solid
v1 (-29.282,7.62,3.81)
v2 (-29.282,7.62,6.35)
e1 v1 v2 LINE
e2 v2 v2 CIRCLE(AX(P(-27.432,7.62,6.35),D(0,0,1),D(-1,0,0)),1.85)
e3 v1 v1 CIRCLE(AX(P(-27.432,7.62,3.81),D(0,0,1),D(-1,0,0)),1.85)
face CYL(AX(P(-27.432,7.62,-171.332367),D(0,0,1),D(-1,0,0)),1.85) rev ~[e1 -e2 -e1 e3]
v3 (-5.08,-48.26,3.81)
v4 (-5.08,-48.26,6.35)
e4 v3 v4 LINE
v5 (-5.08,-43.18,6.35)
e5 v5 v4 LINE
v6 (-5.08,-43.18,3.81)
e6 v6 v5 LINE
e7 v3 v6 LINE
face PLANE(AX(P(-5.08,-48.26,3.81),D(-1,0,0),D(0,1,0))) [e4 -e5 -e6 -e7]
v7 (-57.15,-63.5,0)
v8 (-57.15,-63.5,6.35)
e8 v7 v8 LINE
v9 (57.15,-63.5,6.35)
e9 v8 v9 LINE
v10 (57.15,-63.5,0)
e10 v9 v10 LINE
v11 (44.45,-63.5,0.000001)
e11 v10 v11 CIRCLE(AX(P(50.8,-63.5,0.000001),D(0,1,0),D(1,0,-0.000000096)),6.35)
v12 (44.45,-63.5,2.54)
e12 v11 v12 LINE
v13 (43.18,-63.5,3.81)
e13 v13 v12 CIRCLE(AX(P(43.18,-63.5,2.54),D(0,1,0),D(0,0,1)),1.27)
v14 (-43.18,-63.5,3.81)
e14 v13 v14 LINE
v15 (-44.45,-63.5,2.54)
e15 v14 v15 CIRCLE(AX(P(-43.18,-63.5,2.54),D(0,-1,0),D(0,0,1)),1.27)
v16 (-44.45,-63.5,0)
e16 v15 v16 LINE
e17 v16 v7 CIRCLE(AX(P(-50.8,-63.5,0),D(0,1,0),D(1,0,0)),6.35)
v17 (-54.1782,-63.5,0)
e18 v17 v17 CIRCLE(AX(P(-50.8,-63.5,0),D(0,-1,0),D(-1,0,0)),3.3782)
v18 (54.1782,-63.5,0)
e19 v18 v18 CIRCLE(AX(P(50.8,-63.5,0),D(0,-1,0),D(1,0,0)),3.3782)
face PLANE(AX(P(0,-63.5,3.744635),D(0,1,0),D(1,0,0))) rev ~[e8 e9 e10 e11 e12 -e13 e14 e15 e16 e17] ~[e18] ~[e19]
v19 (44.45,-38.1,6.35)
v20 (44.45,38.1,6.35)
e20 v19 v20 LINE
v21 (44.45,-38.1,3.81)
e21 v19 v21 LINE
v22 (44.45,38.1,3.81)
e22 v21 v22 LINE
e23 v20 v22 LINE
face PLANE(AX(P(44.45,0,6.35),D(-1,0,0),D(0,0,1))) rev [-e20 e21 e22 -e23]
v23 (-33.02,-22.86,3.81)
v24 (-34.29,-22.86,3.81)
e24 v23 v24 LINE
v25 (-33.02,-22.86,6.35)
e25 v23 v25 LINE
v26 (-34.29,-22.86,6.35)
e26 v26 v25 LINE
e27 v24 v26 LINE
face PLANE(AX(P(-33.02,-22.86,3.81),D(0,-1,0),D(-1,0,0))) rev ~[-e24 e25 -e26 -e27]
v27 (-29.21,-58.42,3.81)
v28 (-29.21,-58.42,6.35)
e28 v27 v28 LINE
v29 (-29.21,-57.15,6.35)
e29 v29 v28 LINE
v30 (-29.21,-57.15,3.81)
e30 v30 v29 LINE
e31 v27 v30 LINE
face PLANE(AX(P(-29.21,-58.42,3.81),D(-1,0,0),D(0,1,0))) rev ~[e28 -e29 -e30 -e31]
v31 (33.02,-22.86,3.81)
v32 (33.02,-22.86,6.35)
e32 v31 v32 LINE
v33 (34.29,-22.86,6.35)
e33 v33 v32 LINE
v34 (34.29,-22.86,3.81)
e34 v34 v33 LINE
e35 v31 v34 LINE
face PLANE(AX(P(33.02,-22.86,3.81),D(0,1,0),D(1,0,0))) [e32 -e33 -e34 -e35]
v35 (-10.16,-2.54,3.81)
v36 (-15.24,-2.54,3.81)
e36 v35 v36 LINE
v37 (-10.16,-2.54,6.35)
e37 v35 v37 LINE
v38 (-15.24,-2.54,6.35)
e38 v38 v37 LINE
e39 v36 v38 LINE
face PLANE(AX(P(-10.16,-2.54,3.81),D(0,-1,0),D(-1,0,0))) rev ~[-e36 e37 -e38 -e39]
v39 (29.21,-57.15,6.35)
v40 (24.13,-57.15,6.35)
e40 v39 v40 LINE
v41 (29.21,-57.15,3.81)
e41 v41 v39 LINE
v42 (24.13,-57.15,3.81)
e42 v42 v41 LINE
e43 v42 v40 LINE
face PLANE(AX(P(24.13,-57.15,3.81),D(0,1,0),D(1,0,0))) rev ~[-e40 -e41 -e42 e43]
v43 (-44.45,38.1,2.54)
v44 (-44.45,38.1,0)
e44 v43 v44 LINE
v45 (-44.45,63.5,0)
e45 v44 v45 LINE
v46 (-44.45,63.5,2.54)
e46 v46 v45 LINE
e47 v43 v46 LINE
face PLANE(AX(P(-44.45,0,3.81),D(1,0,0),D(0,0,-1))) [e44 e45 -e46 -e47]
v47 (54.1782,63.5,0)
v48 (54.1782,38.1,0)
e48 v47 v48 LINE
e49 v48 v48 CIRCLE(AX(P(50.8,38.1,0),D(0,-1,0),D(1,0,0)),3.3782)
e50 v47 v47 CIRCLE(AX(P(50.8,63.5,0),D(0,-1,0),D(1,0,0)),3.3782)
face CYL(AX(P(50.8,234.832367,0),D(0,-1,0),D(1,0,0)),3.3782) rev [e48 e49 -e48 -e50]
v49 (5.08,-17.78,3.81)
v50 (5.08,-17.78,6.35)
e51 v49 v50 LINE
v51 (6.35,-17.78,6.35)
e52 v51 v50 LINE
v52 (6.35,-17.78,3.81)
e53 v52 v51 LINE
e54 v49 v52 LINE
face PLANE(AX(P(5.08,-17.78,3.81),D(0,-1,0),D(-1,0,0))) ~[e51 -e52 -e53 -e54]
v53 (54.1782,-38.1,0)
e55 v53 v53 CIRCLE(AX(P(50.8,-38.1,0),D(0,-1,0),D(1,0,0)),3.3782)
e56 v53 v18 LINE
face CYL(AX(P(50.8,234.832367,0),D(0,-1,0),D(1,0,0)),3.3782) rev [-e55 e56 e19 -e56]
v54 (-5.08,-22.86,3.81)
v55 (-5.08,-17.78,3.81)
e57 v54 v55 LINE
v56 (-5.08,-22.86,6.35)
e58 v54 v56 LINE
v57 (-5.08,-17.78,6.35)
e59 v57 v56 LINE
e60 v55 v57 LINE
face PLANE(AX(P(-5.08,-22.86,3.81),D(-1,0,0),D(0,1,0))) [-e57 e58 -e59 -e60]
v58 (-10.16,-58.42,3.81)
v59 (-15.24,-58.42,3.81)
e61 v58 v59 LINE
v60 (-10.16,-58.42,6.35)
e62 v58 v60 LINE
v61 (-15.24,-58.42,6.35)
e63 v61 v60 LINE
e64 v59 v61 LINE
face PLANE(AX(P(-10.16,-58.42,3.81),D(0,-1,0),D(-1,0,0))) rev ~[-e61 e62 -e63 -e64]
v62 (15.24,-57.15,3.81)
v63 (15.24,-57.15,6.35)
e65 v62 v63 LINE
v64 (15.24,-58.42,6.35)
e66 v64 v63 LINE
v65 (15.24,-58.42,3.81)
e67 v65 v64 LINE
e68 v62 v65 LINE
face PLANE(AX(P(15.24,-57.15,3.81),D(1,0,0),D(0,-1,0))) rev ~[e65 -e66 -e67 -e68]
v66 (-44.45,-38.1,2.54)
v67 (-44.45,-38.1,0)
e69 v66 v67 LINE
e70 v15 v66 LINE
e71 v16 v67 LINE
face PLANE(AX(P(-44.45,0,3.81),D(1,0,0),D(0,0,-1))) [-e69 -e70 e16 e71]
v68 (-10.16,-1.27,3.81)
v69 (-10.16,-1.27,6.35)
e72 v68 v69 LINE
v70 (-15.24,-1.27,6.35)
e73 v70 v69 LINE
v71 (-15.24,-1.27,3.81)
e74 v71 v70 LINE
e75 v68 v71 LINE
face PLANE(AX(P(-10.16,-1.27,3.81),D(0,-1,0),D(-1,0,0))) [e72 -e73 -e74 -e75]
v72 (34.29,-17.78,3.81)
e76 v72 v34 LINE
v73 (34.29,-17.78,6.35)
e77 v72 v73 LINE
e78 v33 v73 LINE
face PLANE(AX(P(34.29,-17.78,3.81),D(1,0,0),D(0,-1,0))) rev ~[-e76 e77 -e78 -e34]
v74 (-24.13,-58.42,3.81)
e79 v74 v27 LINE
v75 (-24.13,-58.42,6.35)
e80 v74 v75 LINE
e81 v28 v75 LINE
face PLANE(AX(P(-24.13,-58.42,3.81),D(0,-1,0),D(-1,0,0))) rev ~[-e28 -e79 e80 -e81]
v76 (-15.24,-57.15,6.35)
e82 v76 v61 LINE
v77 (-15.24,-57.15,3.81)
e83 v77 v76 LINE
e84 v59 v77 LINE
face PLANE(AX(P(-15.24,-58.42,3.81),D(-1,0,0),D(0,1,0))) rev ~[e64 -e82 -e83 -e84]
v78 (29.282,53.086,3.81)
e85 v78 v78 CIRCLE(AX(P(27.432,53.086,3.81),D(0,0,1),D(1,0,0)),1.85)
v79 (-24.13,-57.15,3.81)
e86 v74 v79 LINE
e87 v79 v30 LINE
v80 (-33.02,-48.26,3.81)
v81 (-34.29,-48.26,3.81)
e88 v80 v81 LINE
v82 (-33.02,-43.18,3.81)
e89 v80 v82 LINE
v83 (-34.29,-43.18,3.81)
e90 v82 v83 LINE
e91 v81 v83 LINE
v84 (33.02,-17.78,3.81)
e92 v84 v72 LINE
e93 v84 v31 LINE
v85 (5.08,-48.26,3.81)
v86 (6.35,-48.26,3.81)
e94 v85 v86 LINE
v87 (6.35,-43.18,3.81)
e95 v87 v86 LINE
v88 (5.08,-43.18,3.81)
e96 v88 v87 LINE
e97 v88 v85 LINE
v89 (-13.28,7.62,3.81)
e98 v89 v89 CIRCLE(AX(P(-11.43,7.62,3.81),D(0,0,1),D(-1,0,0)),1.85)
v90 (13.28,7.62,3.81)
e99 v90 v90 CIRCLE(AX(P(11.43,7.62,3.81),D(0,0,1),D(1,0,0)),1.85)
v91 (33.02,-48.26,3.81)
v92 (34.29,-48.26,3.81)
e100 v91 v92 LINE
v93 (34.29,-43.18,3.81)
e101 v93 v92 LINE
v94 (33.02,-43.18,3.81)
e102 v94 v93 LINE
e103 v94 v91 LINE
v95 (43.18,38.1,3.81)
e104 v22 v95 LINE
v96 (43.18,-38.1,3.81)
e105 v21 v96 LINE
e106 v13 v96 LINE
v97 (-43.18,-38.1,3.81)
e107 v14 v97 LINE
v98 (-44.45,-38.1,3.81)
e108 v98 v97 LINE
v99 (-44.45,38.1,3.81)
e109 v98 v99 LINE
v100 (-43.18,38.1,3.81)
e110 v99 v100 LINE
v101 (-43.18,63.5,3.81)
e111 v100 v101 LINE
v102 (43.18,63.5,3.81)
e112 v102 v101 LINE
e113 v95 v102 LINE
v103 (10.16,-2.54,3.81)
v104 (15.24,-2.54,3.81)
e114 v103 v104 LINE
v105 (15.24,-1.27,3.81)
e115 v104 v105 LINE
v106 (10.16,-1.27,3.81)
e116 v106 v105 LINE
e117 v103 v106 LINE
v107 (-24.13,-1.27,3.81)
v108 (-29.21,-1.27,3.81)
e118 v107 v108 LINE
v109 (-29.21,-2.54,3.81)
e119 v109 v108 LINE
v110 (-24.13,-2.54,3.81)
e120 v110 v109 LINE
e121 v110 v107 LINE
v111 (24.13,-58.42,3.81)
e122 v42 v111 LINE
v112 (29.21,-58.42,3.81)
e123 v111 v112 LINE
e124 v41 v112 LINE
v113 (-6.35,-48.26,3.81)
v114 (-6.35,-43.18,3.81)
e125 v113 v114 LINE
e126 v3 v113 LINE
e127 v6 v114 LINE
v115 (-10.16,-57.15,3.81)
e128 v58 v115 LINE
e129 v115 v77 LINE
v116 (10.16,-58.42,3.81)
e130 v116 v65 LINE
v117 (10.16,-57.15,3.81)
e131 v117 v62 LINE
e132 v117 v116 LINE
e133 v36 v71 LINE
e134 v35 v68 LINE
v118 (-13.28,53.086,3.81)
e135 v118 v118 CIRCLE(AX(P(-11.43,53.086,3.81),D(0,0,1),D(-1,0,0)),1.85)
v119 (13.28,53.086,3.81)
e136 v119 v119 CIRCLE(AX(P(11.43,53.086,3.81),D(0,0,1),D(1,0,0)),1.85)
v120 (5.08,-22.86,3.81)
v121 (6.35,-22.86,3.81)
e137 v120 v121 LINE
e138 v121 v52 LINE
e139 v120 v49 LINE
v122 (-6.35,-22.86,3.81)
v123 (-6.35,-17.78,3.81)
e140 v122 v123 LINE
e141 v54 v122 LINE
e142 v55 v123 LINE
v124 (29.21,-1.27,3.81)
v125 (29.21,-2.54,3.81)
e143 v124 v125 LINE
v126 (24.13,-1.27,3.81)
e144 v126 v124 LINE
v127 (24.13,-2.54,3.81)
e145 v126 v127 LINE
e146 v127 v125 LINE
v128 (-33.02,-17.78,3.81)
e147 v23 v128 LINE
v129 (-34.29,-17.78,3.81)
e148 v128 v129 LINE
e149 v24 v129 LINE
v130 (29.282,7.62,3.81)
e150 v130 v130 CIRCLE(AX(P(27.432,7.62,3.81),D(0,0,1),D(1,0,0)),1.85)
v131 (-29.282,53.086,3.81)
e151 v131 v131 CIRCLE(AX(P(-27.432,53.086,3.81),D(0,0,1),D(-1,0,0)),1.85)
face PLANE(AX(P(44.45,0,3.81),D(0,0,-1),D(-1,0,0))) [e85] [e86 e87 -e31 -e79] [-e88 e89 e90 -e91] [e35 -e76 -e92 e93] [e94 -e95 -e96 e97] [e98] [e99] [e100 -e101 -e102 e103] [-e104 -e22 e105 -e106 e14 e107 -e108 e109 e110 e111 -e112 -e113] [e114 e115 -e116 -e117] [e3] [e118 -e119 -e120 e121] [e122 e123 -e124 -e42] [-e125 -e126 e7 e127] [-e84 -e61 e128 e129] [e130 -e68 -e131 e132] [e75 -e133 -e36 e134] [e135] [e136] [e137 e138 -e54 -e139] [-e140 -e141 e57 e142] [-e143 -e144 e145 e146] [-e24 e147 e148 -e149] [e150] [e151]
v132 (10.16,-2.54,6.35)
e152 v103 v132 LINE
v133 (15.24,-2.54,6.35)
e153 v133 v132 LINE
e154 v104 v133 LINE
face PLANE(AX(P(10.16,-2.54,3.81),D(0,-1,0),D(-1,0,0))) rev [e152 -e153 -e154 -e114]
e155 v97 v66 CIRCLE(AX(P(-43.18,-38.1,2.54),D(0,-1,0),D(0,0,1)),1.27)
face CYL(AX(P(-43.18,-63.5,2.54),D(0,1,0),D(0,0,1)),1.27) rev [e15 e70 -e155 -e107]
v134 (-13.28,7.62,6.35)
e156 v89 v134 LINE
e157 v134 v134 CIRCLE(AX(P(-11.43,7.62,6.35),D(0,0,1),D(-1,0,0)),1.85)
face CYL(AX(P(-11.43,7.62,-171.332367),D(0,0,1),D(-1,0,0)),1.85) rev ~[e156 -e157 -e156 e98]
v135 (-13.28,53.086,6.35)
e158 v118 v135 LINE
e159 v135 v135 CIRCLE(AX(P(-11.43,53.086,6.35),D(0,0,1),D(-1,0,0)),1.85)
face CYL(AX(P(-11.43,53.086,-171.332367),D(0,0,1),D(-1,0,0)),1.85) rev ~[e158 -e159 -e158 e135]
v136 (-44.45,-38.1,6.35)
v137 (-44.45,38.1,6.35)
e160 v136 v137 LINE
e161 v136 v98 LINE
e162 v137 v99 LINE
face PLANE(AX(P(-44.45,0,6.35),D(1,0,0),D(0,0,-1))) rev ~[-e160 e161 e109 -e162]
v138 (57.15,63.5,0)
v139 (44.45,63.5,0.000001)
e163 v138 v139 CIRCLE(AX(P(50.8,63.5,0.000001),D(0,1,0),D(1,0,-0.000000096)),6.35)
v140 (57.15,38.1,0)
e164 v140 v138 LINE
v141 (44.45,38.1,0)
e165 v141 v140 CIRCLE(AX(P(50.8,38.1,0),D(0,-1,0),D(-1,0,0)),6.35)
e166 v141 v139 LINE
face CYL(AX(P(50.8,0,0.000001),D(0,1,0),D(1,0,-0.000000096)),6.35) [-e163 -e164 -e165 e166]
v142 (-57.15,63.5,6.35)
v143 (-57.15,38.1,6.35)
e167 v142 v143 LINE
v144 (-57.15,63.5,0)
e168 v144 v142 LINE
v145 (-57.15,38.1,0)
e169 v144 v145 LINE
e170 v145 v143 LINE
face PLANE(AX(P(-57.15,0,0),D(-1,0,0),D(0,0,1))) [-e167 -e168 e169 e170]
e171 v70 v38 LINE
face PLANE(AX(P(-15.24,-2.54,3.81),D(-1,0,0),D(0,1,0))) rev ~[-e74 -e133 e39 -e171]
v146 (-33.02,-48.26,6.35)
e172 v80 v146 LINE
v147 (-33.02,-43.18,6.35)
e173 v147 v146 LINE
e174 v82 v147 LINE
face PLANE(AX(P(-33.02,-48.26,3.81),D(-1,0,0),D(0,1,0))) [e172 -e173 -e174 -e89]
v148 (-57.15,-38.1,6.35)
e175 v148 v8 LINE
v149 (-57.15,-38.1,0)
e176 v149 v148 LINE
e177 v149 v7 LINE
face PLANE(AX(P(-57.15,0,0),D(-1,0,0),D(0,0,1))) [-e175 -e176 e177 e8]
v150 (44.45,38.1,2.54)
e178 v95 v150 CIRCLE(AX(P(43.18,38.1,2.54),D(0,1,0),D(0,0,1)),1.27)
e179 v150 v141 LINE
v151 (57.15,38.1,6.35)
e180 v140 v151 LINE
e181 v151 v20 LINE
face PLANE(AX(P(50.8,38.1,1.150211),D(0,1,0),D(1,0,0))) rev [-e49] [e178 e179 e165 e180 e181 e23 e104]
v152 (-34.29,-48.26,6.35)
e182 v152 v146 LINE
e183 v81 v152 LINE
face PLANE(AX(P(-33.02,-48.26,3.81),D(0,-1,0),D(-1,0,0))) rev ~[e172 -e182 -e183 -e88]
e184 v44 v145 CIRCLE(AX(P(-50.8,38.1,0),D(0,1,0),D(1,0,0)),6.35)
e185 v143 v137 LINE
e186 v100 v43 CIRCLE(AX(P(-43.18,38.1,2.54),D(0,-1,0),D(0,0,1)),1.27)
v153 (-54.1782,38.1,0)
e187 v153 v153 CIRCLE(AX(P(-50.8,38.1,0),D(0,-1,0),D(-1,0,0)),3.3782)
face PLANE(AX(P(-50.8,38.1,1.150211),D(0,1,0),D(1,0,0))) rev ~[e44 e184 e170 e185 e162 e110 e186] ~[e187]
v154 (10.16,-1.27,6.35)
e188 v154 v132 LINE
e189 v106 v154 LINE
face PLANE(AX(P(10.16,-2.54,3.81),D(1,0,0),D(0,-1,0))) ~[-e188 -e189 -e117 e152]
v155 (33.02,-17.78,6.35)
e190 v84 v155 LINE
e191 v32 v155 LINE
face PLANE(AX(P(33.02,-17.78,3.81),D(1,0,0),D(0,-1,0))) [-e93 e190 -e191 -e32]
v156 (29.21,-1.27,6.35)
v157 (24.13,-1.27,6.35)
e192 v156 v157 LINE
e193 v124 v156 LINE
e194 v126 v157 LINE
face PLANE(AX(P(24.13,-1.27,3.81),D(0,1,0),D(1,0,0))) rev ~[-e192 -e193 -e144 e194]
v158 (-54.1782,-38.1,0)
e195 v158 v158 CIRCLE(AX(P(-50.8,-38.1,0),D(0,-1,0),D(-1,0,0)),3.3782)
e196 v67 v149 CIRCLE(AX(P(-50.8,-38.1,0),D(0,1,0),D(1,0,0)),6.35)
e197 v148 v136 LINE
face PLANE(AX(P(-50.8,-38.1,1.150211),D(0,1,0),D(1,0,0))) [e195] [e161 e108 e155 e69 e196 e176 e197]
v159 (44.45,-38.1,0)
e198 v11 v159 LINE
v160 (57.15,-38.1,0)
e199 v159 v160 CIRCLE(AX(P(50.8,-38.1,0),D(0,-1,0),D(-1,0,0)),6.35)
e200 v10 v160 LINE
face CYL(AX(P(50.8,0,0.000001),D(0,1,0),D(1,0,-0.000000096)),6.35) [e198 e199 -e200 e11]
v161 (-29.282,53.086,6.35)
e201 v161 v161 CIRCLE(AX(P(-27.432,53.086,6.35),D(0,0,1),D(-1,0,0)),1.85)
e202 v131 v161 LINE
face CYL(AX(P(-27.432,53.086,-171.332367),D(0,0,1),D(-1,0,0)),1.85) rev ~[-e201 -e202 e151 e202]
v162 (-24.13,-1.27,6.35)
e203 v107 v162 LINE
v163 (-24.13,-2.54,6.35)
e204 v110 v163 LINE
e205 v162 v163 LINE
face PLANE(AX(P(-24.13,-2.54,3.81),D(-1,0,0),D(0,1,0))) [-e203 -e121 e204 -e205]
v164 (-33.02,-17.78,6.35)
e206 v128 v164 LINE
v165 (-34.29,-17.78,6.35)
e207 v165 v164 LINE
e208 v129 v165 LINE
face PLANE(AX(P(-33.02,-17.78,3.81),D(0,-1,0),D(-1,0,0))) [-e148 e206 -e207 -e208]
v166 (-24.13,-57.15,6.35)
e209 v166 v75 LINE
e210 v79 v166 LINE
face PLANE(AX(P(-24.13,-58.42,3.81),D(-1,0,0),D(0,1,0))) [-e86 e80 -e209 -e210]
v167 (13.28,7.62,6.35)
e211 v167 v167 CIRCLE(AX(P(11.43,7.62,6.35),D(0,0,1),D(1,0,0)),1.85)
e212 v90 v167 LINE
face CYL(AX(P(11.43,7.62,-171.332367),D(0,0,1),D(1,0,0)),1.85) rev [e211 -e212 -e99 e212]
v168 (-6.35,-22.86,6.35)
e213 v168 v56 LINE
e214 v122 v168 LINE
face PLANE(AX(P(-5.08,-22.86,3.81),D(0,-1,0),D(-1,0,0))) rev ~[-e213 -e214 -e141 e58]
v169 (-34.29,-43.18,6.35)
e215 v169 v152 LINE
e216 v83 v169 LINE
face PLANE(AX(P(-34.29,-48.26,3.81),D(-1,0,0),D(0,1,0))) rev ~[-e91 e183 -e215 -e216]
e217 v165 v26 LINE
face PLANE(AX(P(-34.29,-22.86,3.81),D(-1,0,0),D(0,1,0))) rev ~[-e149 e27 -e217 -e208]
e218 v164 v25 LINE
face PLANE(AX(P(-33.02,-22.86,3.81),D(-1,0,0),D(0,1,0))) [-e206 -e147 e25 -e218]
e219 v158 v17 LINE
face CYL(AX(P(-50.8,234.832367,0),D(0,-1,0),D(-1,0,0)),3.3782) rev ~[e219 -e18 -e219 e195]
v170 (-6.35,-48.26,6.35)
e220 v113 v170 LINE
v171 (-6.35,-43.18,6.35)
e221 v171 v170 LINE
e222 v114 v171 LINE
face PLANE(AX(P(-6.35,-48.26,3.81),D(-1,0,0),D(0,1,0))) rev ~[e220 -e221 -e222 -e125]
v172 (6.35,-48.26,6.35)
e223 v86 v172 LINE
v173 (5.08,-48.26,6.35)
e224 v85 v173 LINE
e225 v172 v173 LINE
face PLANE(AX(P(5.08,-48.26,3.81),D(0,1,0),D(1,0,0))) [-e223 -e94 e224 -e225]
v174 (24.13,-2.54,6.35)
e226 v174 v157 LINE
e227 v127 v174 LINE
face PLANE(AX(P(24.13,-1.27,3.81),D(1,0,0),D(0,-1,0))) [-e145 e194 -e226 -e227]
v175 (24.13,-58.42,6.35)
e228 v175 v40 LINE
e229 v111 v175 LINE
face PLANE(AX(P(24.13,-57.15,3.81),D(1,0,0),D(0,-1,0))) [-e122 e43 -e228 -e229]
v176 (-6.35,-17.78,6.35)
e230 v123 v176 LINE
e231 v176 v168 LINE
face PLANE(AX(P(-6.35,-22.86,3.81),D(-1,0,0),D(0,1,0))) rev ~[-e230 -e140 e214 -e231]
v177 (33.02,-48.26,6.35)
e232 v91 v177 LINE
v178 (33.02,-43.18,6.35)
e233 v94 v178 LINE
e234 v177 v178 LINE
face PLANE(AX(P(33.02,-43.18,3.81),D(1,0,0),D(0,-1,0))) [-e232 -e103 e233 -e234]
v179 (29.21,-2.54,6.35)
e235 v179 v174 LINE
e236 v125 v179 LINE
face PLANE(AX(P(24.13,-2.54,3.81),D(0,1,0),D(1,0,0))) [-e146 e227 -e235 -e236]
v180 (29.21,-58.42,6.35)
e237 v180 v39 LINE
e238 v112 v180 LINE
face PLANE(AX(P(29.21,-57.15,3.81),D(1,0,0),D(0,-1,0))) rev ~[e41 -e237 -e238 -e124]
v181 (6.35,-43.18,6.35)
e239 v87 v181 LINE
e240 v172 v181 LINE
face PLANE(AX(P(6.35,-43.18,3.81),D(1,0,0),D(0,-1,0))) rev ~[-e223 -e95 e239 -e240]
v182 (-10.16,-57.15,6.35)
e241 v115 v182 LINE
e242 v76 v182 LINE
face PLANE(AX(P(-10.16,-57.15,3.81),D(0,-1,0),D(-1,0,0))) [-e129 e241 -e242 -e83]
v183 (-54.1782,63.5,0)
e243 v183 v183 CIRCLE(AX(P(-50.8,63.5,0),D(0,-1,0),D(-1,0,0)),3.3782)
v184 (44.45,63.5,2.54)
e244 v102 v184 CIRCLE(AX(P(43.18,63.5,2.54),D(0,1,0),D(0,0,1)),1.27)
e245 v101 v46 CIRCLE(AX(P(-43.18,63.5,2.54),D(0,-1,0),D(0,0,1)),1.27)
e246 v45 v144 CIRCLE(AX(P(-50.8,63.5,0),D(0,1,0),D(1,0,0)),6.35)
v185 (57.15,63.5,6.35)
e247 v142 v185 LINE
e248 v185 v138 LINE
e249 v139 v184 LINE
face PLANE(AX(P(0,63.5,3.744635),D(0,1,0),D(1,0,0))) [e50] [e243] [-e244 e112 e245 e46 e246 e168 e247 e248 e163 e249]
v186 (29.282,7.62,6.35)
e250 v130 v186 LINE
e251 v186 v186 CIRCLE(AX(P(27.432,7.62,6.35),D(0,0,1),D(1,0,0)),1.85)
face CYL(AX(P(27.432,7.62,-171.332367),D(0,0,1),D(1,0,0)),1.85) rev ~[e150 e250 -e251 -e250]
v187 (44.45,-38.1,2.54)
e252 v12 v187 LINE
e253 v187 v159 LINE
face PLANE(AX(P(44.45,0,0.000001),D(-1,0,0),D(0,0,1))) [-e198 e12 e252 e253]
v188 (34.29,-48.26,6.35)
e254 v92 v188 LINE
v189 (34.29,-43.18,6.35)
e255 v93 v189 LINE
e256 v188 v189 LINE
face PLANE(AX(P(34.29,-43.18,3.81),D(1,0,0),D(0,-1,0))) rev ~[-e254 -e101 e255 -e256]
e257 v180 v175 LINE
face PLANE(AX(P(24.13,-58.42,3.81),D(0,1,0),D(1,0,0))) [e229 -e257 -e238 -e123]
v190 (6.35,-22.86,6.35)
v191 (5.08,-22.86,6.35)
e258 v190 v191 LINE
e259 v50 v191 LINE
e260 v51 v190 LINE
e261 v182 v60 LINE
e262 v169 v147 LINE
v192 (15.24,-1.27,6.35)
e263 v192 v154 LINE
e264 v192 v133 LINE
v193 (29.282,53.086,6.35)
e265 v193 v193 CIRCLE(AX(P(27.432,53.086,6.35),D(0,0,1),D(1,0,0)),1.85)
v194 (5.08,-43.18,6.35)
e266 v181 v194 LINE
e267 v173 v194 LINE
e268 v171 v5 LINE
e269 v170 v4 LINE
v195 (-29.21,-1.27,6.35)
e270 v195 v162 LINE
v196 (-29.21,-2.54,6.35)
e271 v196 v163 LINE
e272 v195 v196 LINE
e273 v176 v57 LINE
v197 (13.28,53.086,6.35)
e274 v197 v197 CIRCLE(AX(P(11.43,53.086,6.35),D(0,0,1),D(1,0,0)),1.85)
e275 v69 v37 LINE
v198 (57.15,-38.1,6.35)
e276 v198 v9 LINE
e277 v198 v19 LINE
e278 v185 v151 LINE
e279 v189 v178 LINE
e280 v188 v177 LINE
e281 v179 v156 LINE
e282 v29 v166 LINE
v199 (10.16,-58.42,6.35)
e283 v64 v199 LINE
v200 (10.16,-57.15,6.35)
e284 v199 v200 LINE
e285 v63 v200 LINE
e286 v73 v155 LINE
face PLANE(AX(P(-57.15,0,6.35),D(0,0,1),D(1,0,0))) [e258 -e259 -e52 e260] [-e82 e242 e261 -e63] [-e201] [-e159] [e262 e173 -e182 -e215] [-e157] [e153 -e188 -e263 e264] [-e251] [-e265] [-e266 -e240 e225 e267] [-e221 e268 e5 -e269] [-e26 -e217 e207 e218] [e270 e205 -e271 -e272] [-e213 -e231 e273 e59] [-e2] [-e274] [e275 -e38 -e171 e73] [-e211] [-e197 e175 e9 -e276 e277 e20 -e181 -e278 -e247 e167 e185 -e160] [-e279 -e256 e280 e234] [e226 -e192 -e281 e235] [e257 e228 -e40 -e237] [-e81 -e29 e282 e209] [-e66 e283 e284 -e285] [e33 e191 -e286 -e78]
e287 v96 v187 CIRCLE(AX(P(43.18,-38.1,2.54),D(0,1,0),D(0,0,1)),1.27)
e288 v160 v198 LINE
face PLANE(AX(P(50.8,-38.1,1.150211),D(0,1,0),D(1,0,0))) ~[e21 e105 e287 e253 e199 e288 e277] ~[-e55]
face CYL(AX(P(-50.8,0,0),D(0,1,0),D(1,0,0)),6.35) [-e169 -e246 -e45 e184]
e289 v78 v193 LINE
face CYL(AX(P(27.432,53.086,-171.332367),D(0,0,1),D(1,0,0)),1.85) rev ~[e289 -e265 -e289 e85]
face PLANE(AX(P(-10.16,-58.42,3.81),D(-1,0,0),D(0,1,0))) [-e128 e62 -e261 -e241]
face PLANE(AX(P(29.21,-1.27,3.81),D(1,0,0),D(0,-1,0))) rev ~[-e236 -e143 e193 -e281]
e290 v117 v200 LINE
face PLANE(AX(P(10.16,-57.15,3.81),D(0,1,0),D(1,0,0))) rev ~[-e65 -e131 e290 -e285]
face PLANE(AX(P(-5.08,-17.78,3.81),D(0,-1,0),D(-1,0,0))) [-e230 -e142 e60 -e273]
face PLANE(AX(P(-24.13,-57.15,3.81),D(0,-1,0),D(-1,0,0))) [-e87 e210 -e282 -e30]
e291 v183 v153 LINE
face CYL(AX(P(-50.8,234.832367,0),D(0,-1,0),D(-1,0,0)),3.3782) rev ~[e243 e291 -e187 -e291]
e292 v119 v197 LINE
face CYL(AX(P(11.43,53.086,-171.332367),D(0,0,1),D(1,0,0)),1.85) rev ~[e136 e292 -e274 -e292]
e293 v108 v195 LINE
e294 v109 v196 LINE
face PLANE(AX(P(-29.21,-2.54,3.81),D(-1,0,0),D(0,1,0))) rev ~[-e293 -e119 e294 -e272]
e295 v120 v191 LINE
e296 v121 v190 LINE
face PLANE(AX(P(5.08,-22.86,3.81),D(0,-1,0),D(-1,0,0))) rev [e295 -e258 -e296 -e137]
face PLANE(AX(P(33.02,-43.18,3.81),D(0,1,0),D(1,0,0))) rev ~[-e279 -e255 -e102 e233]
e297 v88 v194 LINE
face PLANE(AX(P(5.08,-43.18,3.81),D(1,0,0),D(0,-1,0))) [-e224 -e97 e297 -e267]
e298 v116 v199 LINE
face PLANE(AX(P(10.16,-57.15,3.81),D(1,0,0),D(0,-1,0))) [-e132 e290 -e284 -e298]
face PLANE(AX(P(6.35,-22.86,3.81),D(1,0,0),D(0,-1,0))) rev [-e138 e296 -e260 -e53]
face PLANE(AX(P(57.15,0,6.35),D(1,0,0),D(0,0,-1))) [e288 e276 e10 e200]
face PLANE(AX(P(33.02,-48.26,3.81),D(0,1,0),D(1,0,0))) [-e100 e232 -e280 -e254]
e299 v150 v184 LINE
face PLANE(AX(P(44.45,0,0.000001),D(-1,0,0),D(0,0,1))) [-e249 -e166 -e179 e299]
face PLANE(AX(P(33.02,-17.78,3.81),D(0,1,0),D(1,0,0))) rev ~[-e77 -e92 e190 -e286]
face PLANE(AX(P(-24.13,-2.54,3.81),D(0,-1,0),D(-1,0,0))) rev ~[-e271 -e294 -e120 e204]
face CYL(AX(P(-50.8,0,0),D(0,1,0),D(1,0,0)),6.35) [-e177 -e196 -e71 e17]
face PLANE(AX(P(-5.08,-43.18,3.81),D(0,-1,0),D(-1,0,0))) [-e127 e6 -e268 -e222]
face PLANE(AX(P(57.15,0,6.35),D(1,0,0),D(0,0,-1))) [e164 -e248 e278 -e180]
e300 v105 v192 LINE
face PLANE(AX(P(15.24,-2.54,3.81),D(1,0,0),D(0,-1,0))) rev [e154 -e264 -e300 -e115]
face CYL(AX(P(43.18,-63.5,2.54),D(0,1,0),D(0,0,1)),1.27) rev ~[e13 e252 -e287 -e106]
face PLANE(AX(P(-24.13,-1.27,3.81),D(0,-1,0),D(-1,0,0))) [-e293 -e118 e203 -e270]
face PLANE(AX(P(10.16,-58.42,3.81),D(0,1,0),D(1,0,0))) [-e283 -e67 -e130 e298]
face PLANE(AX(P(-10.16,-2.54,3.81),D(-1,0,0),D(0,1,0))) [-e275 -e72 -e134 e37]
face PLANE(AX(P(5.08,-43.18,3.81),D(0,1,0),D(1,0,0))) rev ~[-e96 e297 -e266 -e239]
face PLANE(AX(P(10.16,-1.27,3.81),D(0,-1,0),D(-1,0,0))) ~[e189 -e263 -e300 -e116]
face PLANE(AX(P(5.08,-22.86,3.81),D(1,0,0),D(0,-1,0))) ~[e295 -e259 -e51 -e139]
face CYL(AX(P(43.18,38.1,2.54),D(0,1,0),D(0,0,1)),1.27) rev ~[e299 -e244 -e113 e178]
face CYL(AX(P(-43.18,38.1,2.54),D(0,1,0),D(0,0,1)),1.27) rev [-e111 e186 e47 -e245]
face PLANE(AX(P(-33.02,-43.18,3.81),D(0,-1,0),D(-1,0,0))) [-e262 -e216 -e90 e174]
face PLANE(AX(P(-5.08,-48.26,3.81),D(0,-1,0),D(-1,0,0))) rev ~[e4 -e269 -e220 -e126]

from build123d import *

# Parameters (mm, degrees)
BOSS_EXTRUDE1_DEPTH     = 63.5
SKETCH3_W               = 1.27
SKETCH3_H               = 5.08
CUT_EXTRUDE2_DEPTH      = 87.032540937
LPATTERN1_COUNT         = 2
LPATTERN1_PITCH         = 25.4
LPATTERN1_COUNT_DIR2    = 2
LPATTERN1_PITCH_DIR2    = 27.94
MIRROR1_COPY_1_SKETCH_W = 1.27
MIRROR1_COPY_1_SKETCH_H = 5.08
MIRROR1_COPY_1_DEPTH    = 87.032540937
MIRROR1_COPY_2_SKETCH_W = 1.27
MIRROR1_COPY_2_SKETCH_H = 5.08
MIRROR1_COPY_2_DEPTH    = 87.032540937
MIRROR1_COPY_3_SKETCH_W = 1.27
MIRROR1_COPY_3_SKETCH_H = 5.08
MIRROR1_COPY_3_DEPTH    = 87.032540937
SKETCH5_W               = 5.08
SKETCH5_H               = 1.27
CUT_EXTRUDE3_DEPTH      = 87.032540937
LPATTERN2_COUNT         = 2
LPATTERN2_PITCH         = 13.97
LPATTERN2_COUNT_DIR2    = 2
LPATTERN2_PITCH_DIR2    = 55.88
MIRROR2_COPY_1_SKETCH_W = 5.08
MIRROR2_COPY_1_SKETCH_H = 1.27
MIRROR2_COPY_1_DEPTH    = 87.032540937
MIRROR2_COPY_2_SKETCH_W = 5.08
MIRROR2_COPY_2_SKETCH_H = 1.27
MIRROR2_COPY_2_DEPTH    = 87.032540937
MIRROR2_COPY_3_SKETCH_W = 5.08
MIRROR2_COPY_3_SKETCH_H = 1.27
MIRROR2_COPY_3_DEPTH    = 87.032540937
F_1_0MM_DOWEL_HOLE1_D   = 3.7
LPATTERN3_COUNT         = 2
LPATTERN3_PITCH         = 16.002
LPATTERN3_COUNT_DIR2    = 2
LPATTERN3_PITCH_DIR2    = 45.466
MIRROR3_COPY_1_D        = 3.7
MIRROR3_COPY_2_D        = 3.7
MIRROR3_COPY_3_D        = 3.7
F_1_4_CLEARANCE_HOLE1_D = 6.7564
CUT_EXTRUDE4_DEPTH      = 38.1
FILLET1_R               = 1.27
FILLET2_R               = 1.27


with BuildPart() as part:
    # Sketch1 → Boss-Extrude1 (new, symmetric)
    with BuildSketch(Plane(origin=(0, 0, 0), x_dir=(1, 0, 0), z_dir=(0, 1, 0))):
        with BuildLine():
            Line((0, -6.35), (57.15, -6.35))
            Line((57.15, -6.35), (57.15, 0))
            ThreePointArc((57.15, 0), (50.799999392, 6.349999392), (44.45, -1.216e-06))
            Line((44.45, -1.216e-06), (44.45, -3.81))
            Line((44.45, -3.81), (-44.45, -3.81))
            Line((-44.45, -3.81), (-44.45, 0))
            ThreePointArc((-44.45, 0), (-50.8, 6.35), (-57.15, 0))
            Line((-57.15, 0), (-57.15, -6.35))
            Line((-57.15, -6.35), (0, -6.35))
        make_face()
    extrude(amount=BOSS_EXTRUDE1_DEPTH, both=True)

    # Sketch3 → Cut-Extrude2 (cut, through all)
    with BuildSketch(Plane(origin=(0, 0, 3.81), x_dir=(-1, 0, 0), z_dir=(0, 0, -1))):
        with Locations((5.715, -20.32)):
            Rectangle(SKETCH3_W, SKETCH3_H)
    cut_extrude2 = extrude(amount=-CUT_EXTRUDE2_DEPTH, mode=Mode.SUBTRACT)

    # LPattern1: Cut-Extrude2 2 × 2
    with Locations(*[(-j * LPATTERN1_PITCH_DIR2, -i * LPATTERN1_PITCH, 0) for i in range(LPATTERN1_COUNT) for j in range(LPATTERN1_COUNT_DIR2) if (i, j) != (0, 0)]):
        add(cut_extrude2, mode=Mode.SUBTRACT)

    # Mirror1: Cut-Extrude2 across plane
    add(cut_extrude2.mirror(Plane(origin=(0, 0, 0), x_dir=(0, 0, 1), z_dir=(1, 0, 0))), mode=Mode.SUBTRACT)

    # Mirror1 copy 1 sketch → Mirror1 copy 1 (cut, through all)
    with BuildSketch(Plane(origin=(27.94, 0, 3.81), x_dir=(1, 0, 0), z_dir=(0, 0, -1))):
        with Locations((5.715, 20.32)):
            Rectangle(MIRROR1_COPY_1_SKETCH_W, MIRROR1_COPY_1_SKETCH_H)
    extrude(amount=-MIRROR1_COPY_1_DEPTH, mode=Mode.SUBTRACT)

    # Mirror1 copy 2 sketch → Mirror1 copy 2 (cut, through all)
    with BuildSketch(Plane(origin=(0, -25.4, 3.81), x_dir=(1, 0, 0), z_dir=(0, 0, -1))):
        with Locations((5.715, 20.32)):
            Rectangle(MIRROR1_COPY_2_SKETCH_W, MIRROR1_COPY_2_SKETCH_H)
    extrude(amount=-MIRROR1_COPY_2_DEPTH, mode=Mode.SUBTRACT)

    # Mirror1 copy 3 sketch → Mirror1 copy 3 (cut, through all)
    with BuildSketch(Plane(origin=(27.94, -25.4, 3.81), x_dir=(1, 0, 0), z_dir=(0, 0, -1))):
        with Locations((5.715, 20.32)):
            Rectangle(MIRROR1_COPY_3_SKETCH_W, MIRROR1_COPY_3_SKETCH_H)
    extrude(amount=-MIRROR1_COPY_3_DEPTH, mode=Mode.SUBTRACT)

    # Sketch5 → Cut-Extrude3 (cut, through all)
    with BuildSketch(Plane(origin=(0, 0, 3.81), x_dir=(-1, 0, 0), z_dir=(0, 0, -1))):
        with Locations((12.7, -1.905)):
            Rectangle(SKETCH5_W, SKETCH5_H)
    cut_extrude3 = extrude(amount=-CUT_EXTRUDE3_DEPTH, mode=Mode.SUBTRACT)

    # LPattern2: Cut-Extrude3 2 × 2
    with Locations(*[(-i * LPATTERN2_PITCH, -j * LPATTERN2_PITCH_DIR2, 0) for i in range(LPATTERN2_COUNT) for j in range(LPATTERN2_COUNT_DIR2) if (i, j) != (0, 0)]):
        add(cut_extrude3, mode=Mode.SUBTRACT)

    # Mirror2: Cut-Extrude3 across plane
    add(cut_extrude3.mirror(Plane(origin=(0, 0, 0), x_dir=(0, 0, 1), z_dir=(1, 0, 0))), mode=Mode.SUBTRACT)

    # Mirror2 copy 1 sketch → Mirror2 copy 1 (cut, through all)
    with BuildSketch(Plane(origin=(0, -55.88, 3.81), x_dir=(1, 0, 0), z_dir=(0, 0, -1))):
        with Locations((12.7, 1.905)):
            Rectangle(MIRROR2_COPY_1_SKETCH_W, MIRROR2_COPY_1_SKETCH_H)
    extrude(amount=-MIRROR2_COPY_1_DEPTH, mode=Mode.SUBTRACT)

    # Mirror2 copy 2 sketch → Mirror2 copy 2 (cut, through all)
    with BuildSketch(Plane(origin=(13.97, 0, 3.81), x_dir=(1, 0, 0), z_dir=(0, 0, -1))):
        with Locations((12.7, 1.905)):
            Rectangle(MIRROR2_COPY_2_SKETCH_W, MIRROR2_COPY_2_SKETCH_H)
    extrude(amount=-MIRROR2_COPY_2_DEPTH, mode=Mode.SUBTRACT)

    # Mirror2 copy 3 sketch → Mirror2 copy 3 (cut, through all)
    with BuildSketch(Plane(origin=(13.97, -55.88, 3.81), x_dir=(1, 0, 0), z_dir=(0, 0, -1))):
        with Locations((12.7, 1.905)):
            Rectangle(MIRROR2_COPY_3_SKETCH_W, MIRROR2_COPY_3_SKETCH_H)
    extrude(amount=-MIRROR2_COPY_3_DEPTH, mode=Mode.SUBTRACT)

    # Ø1.0mm Dowel Hole1 (through all)
    with Locations(Plane(origin=(0, 0, 0), x_dir=(1, 0, 0), z_dir=(0, 0, -1))):
        with Locations((-11.43, -7.62)):
            f_1_0mm_dowel_hole1 = Hole(F_1_0MM_DOWEL_HOLE1_D / 2)

    # LPattern3: 1.0mm Dowel Hole1 2 × 2
    with Locations(*[(-i * LPATTERN3_PITCH, j * LPATTERN3_PITCH_DIR2, 0) for i in range(LPATTERN3_COUNT) for j in range(LPATTERN3_COUNT_DIR2) if (i, j) != (0, 0)]):
        add(f_1_0mm_dowel_hole1, mode=Mode.SUBTRACT)

    # Mirror3: Ø1.0mm Dowel Hole1 across plane
    add(f_1_0mm_dowel_hole1.mirror(Plane(origin=(0, 0, 0), x_dir=(0, 0, 1), z_dir=(1, 0, 0))), mode=Mode.SUBTRACT)

    # Mirror3 copy 1 (through all)
    with Locations(Plane(origin=(0, 45.466, 0), x_dir=(-1, 0, 0), z_dir=(0, 0, -1))):
        with Locations((-11.43, 7.62)):
            Hole(MIRROR3_COPY_1_D / 2)

    # Mirror3 copy 2 (through all)
    with Locations(Plane(origin=(16.002, 0, 0), x_dir=(-1, 0, 0), z_dir=(0, 0, -1))):
        with Locations((-11.43, 7.62)):
            Hole(MIRROR3_COPY_2_D / 2)

    # Mirror3 copy 3 (through all)
    with Locations(Plane(origin=(16.002, 45.466, 0), x_dir=(-1, 0, 0), z_dir=(0, 0, -1))):
        with Locations((-11.43, 7.62)):
            Hole(MIRROR3_COPY_3_D / 2)

    # 1/4 Clearance Hole1 (through all)
    with Locations(Plane(origin=(0, 63.5, 0), x_dir=(1, 0, 0), z_dir=(0, 1, 0))):
        with Locations((-50.8, 0)):
            f_1_4_clearance_hole1 = Hole(F_1_4_CLEARANCE_HOLE1_D / 2)

    # Mirror4: 1/4 Clearance Hole1 across plane
    add(f_1_4_clearance_hole1.mirror(Plane(origin=(0, 0, 0), x_dir=(0, 0, 1), z_dir=(1, 0, 0))), mode=Mode.SUBTRACT)

    # Sketch16 → Cut-Extrude4 (cut, symmetric)
    with BuildSketch(Plane(origin=(0, 0, 0), x_dir=(1, 0, 0), z_dir=(0, 1, 0))):
        with BuildLine():
            Line((-57.15, 0), (-57.15, -6.35))
            Line((-57.15, -6.35), (-44.45, -6.35))
            Line((-44.45, -6.35), (-44.45, 0))
            ThreePointArc((-44.45, 0), (-50.8, 6.35), (-57.15, 0))
        make_face()
    cut_extrude4 = extrude(amount=CUT_EXTRUDE4_DEPTH, both=True, mode=Mode.SUBTRACT)

    # Mirror5: Cut-Extrude4 across plane
    add(cut_extrude4.mirror(Plane(origin=(0, 0, 0), x_dir=(0, 0, 1), z_dir=(1, 0, 0))), mode=Mode.SUBTRACT)

    # Fillet1
    fillet1_edges = [part.edges().sort_by_distance(p)[0] for p in [
        (-44.45, 50.8, 3.81),
        (-44.45, -50.8, 3.81),
    ]]
    fillet(fillet1_edges, radius=FILLET1_R)

    # Fillet2
    fillet2_edges = [part.edges().sort_by_distance(p)[0] for p in [
        (44.45, 50.8, 3.81),
        (44.45, -50.8, 3.81),
    ]]
    fillet(fillet2_edges, radius=FILLET2_R)


solid = part.part
